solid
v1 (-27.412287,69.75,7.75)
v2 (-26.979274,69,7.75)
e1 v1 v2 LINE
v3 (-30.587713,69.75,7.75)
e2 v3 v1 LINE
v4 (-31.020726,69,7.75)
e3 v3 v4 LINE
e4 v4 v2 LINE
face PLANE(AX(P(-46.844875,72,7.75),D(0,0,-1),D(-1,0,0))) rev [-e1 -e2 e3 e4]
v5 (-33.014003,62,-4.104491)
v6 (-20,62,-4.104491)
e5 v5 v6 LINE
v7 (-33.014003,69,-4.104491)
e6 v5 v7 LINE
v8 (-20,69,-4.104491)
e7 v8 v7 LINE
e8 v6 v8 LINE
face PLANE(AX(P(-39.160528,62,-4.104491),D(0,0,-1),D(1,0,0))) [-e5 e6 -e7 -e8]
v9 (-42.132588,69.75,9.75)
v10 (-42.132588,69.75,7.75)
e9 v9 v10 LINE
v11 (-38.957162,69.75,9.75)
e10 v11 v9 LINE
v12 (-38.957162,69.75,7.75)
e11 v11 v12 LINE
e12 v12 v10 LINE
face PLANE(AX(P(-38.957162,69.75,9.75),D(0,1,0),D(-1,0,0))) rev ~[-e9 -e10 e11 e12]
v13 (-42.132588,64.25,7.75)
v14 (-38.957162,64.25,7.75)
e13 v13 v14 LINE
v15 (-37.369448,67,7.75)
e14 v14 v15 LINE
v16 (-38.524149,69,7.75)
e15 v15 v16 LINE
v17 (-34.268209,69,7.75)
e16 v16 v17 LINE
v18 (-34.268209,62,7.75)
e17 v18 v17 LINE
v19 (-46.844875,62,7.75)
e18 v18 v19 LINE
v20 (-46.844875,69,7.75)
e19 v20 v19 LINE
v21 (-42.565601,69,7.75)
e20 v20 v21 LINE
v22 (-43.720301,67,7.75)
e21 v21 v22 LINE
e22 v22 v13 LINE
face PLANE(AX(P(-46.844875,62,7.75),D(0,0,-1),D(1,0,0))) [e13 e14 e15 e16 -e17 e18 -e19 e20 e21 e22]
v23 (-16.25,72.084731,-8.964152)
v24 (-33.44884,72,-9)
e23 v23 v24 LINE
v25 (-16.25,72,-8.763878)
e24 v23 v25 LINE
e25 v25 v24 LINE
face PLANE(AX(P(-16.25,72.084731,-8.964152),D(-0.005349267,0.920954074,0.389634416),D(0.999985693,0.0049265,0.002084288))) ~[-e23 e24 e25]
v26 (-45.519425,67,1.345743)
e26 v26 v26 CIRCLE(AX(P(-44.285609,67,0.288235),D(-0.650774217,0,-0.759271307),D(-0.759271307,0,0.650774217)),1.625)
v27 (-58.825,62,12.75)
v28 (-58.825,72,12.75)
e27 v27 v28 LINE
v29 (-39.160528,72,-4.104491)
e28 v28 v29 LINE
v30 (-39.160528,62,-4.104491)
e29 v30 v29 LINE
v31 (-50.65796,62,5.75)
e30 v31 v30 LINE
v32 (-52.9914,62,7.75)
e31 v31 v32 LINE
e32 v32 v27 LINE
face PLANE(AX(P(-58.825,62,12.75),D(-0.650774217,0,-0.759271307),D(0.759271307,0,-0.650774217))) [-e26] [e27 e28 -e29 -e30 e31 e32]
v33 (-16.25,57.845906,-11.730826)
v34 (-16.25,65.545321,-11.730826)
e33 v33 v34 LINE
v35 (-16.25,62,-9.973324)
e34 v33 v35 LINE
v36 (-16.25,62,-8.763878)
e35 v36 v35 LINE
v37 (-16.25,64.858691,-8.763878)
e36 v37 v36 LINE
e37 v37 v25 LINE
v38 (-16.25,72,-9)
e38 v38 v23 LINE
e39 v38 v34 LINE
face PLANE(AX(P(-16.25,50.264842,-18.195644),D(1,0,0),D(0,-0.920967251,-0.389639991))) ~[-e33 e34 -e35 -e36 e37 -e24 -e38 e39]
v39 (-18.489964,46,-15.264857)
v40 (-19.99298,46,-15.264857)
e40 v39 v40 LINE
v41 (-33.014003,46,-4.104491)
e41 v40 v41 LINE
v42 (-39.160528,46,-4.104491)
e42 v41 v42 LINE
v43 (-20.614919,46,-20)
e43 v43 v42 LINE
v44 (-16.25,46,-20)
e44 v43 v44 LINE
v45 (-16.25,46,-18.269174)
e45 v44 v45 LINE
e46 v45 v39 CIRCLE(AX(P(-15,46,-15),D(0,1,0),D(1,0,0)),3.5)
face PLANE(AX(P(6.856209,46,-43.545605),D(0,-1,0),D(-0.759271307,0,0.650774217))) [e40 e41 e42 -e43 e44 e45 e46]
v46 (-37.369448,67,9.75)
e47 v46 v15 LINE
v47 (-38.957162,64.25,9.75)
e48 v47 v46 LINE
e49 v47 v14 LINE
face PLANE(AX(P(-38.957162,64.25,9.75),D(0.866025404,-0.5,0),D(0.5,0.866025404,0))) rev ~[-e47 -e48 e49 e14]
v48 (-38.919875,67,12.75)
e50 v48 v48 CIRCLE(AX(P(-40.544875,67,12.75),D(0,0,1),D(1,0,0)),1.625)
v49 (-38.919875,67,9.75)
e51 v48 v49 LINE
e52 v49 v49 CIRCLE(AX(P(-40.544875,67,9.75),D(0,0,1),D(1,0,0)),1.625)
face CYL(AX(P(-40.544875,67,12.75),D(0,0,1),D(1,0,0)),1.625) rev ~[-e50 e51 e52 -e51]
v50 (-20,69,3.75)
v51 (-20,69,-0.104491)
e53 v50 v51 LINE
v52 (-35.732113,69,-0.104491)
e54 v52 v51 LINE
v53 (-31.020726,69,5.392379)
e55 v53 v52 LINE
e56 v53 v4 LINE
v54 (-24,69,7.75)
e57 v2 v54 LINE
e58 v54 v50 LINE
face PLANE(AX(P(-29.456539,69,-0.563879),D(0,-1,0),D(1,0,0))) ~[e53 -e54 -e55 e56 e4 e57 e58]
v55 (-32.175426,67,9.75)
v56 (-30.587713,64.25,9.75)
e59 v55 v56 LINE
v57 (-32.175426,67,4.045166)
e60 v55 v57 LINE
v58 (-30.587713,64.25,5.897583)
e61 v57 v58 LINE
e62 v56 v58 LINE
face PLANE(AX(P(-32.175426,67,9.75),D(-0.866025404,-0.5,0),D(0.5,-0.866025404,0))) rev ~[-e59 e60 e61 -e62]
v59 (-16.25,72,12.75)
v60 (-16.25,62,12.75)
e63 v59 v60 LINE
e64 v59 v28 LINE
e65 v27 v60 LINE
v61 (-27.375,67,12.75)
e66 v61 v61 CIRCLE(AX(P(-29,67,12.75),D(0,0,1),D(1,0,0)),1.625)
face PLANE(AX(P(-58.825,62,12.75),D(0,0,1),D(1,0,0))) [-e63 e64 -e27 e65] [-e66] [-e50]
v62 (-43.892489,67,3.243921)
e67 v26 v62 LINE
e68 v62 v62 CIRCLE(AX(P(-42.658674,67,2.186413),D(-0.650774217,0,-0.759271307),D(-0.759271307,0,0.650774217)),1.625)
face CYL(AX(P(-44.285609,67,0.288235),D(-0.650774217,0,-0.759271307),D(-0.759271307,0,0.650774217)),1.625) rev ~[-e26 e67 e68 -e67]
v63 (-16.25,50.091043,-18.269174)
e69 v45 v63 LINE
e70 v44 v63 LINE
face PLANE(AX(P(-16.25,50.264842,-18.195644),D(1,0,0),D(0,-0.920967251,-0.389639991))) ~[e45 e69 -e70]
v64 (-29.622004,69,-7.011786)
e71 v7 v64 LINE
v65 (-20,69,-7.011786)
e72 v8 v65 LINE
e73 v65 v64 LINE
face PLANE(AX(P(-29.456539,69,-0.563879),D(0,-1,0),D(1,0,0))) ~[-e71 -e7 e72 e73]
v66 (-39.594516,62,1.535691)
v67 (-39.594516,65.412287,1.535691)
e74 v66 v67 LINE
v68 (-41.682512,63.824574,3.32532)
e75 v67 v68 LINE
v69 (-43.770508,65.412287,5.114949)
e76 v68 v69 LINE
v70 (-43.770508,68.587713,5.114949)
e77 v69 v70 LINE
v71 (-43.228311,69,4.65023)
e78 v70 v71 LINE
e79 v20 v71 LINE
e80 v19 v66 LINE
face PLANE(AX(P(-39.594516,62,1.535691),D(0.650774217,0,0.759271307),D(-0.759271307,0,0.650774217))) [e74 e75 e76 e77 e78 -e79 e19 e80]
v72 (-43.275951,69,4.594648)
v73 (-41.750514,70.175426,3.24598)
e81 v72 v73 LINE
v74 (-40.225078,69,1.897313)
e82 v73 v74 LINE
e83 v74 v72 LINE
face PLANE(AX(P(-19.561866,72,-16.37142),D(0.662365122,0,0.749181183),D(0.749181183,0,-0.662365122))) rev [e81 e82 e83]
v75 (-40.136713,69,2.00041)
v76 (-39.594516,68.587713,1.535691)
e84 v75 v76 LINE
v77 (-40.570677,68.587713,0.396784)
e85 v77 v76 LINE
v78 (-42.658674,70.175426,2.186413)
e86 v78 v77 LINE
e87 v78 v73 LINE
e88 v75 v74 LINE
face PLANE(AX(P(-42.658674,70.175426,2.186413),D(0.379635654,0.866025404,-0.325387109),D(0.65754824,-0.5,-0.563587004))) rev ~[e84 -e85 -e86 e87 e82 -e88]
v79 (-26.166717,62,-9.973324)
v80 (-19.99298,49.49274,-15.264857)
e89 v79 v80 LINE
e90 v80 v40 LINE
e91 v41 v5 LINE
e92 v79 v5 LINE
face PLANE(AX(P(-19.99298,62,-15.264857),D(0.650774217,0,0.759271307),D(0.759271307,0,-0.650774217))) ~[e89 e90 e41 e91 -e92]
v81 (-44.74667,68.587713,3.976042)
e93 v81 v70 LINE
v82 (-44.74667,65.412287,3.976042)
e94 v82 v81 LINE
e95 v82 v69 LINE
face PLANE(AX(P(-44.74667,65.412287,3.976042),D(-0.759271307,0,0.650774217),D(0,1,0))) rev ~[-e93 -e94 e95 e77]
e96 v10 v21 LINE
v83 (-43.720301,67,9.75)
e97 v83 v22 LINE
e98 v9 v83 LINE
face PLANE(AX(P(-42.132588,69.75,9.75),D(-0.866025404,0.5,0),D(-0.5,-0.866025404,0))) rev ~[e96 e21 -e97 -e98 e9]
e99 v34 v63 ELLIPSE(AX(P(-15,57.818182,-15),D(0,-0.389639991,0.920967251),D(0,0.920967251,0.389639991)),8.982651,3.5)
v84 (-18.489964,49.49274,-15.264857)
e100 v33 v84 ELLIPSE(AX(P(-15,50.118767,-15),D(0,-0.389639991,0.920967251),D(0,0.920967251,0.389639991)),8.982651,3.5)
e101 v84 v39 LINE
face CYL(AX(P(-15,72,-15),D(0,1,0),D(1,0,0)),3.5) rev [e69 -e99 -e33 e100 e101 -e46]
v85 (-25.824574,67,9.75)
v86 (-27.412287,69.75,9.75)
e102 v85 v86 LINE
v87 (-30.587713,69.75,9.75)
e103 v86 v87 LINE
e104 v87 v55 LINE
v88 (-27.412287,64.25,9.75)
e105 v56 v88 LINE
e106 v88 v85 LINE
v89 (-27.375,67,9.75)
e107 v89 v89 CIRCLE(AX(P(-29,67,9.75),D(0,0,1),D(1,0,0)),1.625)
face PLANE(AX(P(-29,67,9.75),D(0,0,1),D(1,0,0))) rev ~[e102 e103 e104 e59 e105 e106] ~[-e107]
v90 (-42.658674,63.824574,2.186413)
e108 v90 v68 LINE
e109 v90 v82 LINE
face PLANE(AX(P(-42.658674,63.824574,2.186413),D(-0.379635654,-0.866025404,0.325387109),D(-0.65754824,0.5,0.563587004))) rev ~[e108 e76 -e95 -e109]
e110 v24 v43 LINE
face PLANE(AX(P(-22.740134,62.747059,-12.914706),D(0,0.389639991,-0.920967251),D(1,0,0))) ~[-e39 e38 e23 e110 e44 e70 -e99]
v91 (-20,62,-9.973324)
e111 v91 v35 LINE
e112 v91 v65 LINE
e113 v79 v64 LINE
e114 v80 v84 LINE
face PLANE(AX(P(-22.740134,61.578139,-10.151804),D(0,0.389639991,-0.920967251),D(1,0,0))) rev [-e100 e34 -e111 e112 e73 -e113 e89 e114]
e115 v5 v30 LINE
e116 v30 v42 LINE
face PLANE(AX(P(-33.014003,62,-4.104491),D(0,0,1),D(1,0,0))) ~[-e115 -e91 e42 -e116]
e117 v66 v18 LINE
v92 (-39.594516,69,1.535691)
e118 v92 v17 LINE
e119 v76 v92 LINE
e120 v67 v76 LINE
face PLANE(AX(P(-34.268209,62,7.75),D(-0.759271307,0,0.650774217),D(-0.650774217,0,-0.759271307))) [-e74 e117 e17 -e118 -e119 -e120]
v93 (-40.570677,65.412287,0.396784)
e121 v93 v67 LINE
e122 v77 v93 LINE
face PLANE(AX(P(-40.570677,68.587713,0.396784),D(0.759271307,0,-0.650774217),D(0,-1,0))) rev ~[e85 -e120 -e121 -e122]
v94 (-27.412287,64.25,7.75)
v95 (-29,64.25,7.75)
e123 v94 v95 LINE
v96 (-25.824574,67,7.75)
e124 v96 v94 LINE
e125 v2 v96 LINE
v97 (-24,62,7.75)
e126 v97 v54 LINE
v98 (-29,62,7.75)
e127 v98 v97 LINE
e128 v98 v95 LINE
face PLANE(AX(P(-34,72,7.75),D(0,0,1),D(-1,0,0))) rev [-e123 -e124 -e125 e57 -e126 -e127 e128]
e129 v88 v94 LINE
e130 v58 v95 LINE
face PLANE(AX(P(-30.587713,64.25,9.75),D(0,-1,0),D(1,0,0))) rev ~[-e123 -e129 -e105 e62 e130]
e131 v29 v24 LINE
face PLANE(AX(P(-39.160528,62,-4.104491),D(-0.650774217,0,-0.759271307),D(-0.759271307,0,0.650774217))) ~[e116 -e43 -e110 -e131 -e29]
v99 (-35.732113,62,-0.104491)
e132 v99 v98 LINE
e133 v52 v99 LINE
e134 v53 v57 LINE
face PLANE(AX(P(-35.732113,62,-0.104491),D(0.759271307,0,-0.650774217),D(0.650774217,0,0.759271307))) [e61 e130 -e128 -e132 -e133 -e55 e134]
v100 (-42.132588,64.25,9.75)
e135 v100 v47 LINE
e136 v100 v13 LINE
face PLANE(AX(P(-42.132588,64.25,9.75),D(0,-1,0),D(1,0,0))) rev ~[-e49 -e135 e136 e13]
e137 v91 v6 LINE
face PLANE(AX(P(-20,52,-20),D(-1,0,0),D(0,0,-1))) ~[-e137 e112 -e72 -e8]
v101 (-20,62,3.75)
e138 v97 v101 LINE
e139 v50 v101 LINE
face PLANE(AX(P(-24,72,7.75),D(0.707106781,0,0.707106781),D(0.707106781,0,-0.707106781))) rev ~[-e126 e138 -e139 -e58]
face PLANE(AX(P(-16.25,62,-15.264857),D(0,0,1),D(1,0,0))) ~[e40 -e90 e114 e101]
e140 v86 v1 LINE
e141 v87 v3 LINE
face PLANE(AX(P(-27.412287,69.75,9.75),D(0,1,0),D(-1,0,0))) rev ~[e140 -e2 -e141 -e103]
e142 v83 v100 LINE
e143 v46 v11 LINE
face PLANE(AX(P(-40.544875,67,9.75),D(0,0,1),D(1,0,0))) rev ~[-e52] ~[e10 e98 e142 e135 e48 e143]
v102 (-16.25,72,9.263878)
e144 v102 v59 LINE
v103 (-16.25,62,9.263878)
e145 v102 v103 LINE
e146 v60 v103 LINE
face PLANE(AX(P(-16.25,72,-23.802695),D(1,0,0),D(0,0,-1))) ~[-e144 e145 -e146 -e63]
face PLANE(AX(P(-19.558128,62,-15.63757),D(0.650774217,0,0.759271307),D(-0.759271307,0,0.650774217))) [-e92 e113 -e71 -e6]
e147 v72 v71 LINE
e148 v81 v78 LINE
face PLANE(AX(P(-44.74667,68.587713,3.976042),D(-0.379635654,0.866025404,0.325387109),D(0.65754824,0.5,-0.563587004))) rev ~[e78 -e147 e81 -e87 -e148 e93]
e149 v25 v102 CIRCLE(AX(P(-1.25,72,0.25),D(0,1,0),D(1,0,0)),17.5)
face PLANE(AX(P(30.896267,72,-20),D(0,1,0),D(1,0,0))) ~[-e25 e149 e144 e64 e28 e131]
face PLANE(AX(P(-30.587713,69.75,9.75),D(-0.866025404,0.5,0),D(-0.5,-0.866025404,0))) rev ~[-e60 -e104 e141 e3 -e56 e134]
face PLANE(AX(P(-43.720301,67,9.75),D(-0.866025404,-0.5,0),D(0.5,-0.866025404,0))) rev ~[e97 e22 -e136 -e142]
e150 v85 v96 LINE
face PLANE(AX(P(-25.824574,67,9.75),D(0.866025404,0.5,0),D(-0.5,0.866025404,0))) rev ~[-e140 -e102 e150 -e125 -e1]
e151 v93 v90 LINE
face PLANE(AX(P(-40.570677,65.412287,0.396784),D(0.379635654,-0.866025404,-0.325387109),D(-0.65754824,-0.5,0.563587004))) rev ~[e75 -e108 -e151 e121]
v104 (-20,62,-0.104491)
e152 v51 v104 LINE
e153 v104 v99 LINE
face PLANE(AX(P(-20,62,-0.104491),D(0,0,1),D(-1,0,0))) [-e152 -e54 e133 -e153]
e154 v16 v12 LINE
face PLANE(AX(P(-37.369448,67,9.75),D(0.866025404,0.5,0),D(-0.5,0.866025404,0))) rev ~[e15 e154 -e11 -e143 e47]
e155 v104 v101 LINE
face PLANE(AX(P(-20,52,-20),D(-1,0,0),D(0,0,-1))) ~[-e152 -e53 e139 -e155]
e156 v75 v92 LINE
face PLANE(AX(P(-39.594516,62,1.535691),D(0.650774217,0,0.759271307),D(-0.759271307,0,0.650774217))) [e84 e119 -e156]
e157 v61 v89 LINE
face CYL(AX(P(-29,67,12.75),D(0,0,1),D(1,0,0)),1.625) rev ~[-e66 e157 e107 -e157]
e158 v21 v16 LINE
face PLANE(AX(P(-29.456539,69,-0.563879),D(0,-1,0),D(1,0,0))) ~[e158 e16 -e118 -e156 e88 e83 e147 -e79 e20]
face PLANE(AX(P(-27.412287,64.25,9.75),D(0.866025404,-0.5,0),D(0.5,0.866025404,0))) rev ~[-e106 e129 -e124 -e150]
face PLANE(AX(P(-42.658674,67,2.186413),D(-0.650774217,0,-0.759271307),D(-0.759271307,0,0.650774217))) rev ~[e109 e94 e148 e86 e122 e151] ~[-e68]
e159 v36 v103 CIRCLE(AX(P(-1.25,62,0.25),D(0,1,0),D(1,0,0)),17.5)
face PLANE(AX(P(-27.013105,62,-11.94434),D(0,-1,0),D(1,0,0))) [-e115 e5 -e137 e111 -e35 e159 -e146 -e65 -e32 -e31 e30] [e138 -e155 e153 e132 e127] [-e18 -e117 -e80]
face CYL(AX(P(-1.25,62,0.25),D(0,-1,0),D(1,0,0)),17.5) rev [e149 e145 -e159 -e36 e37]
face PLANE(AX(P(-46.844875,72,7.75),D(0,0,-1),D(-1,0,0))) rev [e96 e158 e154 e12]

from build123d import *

# Parameters (mm, degrees)
CROQUIS1_R                              = 15.25
CROQUIS1_R_2                            = 2.125
SOPORTE_CAJA_REDUCTORA_DEPTH            = 20
CROQUIS3_R                              = 2.125
CORTAR_EXTRUIR1_DEPTH                   = 51.423828692
REDONDEO1_R                             = 5
BOSS_EXTRUDE1_DEPTH                     = 20
CUT_EXTRUDE1_REACH                      = 55.852
SKETCH2_R                               = 1.625
CUT_EXTRUDE2_DEPTH                      = 2
SKETCH4_R                               = 1.625
CUT_EXTRUDE3_DEPTH                      = 63.291652731
CUT_EXTRUDE4_START                      = -4.5
CUT_EXTRUDE4_DEPTH                      = 2
CROQUIS6_W                              = 4.75
CROQUIS6_H                              = 4.75
CORTAR_EXTRUIR17_DEPTH                  = 42.231056256
CROQUIS7_W                              = 60
CROQUIS7_H                              = 20
CORTAR_EXTRUIR18_DEPTH                  = 51.423828692
SALIENTE_EXTRUIR2_DEPTH                 = 49
SOPORTE_START                           = -15
SOPORTE_MOTOR_DEPTH                     = 15
CROQUIS12_R                             = 2.125
AGUJEROS_DE_SUJECION_A_BASE_DEPTH       = 84.087679592
TUERCA_START                            = -4
TUERCA_AGUJERO_DE_SUJECION_A_BASE_DEPTH = 10
SALIENTE_EXTRUIR4_DEPTH                 = 15
CORTAR_EXTRUIR19_DEPTH                  = 25
CROQUIS14_W                             = 50
CROQUIS14_H                             = 118
CORTAR_EXTRUIR22_DEPTH                  = 146.556045907
CROQUIS15_W                             = 10
CROQUIS15_H                             = 7
CORTAR_EXTRUIR23_DEPTH                  = 42.231056256
CORTAR_EXTRUIR24_DEPTH                  = 42.231056256
CROQUIS18_W                             = 40
CROQUIS18_H                             = 10
CORTAR_EXTRUIR25_DEPTH                  = 44.27311521
SALIENTE_EXTRUIR5_DEPTH                 = 10
CROQUIS20_R                             = 1
CORTAR_EXTRUIR26_DEPTH                  = 49.229270158
CORTAR_EXTRUIR27_REACH                  = 62.959
CORTAR_EXTRUIR27_END_RADIUS             = 15.25
CROQUIS21_R                             = 1.625
CROQUIS22_R                             = 2.125
CROQUIS22_R_2                           = 1
SALIENTE_EXTRUIR6_DEPTH                 = 10
CROQUIS23_R                             = 1.625
CORTAR_EXTRUIR28_DEPTH                  = 52.269508521
CORTAR_EXTRUIR29_START                  = -3
CORTAR_EXTRUIR29_DEPTH                  = 10
SALIENTE_EXTRUIR7_DEPTH                 = 10
CORTAR_EXTRUIR30_REACH                  = 72.235
CROQUIS27_R                             = 1.625
CORTAR_EXTRUIR31_REACH                  = 75.235
CORTAR_EXTRUIR31_START                  = -3
CORTAR_EXTRUIR32_REACH                  = 58.612
CROQUIS29_R                             = 1.625
CORTAR_EXTRUIR33_REACH                  = 61.112
CORTAR_EXTRUIR33_START                  = -2.5
CROQUIS35_W                             = 13.305418987
CROQUIS35_H                             = 6.826864192
CORTAR_EXTRUIR34_DEPTH                  = 63.931555098
CORTAR_EXTRUIR34_DEPTH_BACK             = 63.931555098
CORTAR_EXTRUIR35_START                  = -3
CORTAR_EXTRUIR35_DEPTH                  = 10
SALIENTE_EXTRUIR8_DEPTH                 = 10
SALIENTE_EXTRUIR9_DEPTH                 = 13
SALIENTE_EXTRUIR10_DEPTH                = 3
CROQUIS40_W                             = 106.583537839
CROQUIS40_H                             = 47.391515964
CORTAR_EXTRUIR36_DEPTH                  = 80.887064817
CORTAR_EXTRUIR36_DEPTH_BACK             = 80.887064817
CROQUIS41_W                             = 24.558856908
CROQUIS41_H                             = 18.206234432
CORTAR_EXTRUIR37_DEPTH                  = 80.887064817
CORTAR_EXTRUIR37_DEPTH_BACK             = 80.887064817
CROQUIS42_W                             = 39.793611955
CROQUIS42_H                             = 36.552695193
CORTAR_EXTRUIR38_DEPTH                  = 63.931555082
CORTAR_EXTRUIR38_DEPTH_BACK             = 63.931555082
SALIENTE_EXTRUIR11_DEPTH                = 3
CROQUIS44_R                             = 17.5
CORTAR_EXTRUIR39_DEPTH                  = 63.931555082
CORTAR_EXTRUIR39_DEPTH_BACK             = 63.931555082
SALIENTE_EXTRUIR12_DEPTH                = 16
CORTAR_EXTRUIR40_DEPTH                  = 66.79232953
SALIENTE_EXTRUIR14_DEPTH                = 3
CROQUIS48_R                             = 17.5
CORTAR_EXTRUIR41_DEPTH                  = 68.352658633
CORTAR_EXTRUIR41_DEPTH_BACK             = 68.352658633
CROQUIS49_R                             = 3.5
CORTAR_EXTRUIR42_DEPTH                  = 68.352658633
CROQUIS50_W                             = 95.776732481
CROQUIS50_H                             = 51.661294246
CORTAR_EXTRUIR43_DEPTH                  = 90.449033504
CORTAR_EXTRUIR43_DEPTH_BACK             = 90.449033504


with BuildPart() as part:
    # Croquis1 → Soporte caja reductora (new body)
    with BuildSketch(Plane(origin=(0, 0, 0), x_dir=(1, 0, 0), z_dir=(0, 1, 0))):
        Polygon((-30, -15.25), (-20, -15.25), (-20, -20), (20, -20), (20, -15.25), (30, -15.25), (30, -7.25), (20, -4.25), (20, 20), (-20, 20), (-20, -4.25), (-30, -7.25), align=None)
        with Locations(Location((0, 0, 0), (0, 0, 270))):
            Circle(CROQUIS1_R, mode=Mode.SUBTRACT)
        with Locations(Location((-15, 15, 0), (0, 0, 270))):
            Circle(CROQUIS1_R_2, mode=Mode.SUBTRACT)
        with Locations(Location((15, 15, 0), (0, 0, 270))):
            Circle(CROQUIS1_R_2, mode=Mode.SUBTRACT)
    extrude(amount=-SOPORTE_CAJA_REDUCTORA_DEPTH)

    # Croquis3 → Cortar-Extruir1 (cut, through all)
    with BuildSketch(Plane.XY.offset(15.25)):
        with Locations((-23.5, -10)):
            Circle(CROQUIS3_R)
        with Locations((23.5, -10)):
            Circle(CROQUIS3_R)
    extrude(amount=-CORTAR_EXTRUIR1_DEPTH, mode=Mode.SUBTRACT)

    # Redondeo1
    redondeo1_edges = [part.edges().sort_by_distance(p)[0] for p in [
        (-20, -10, -20),
        (20, -10, -20),
    ]]
    fillet(redondeo1_edges, radius=REDONDEO1_R)

    # Sketch1 → Boss-Extrude1 (add)
    with BuildSketch(Plane(origin=(0, 0, 0), x_dir=(1, 0, 0), z_dir=(0, 1, 0))):
        with BuildLine():
            Line((25.5, 15), (20, 15))
            ThreePointArc((20, 15), (18.535533906, 18.535533906), (15, 20))
            Line((15, 20), (30, 20))
            Line((30, 20), (30, 8))
            Line((30, 8), (25.5, 8))
            Line((25.5, 8), (25.5, 15))
        make_face()
    extrude(amount=-BOSS_EXTRUDE1_DEPTH)

    # Sketch2 → Cut-Extrude1 (cut, up to next)
    with BuildSketch(Plane(origin=(0, 0, -20), x_dir=(-1, 0, 0), z_dir=(0, 0, -1)), mode=Mode.PRIVATE) as cut_extrude1_sk1:
        with Locations((-22.75, -10)):
            Circle(SKETCH2_R)
    cut_extrude1_tool1 = extrude(cut_extrude1_sk1.sketch, amount=-CUT_EXTRUDE1_REACH, mode=Mode.PRIVATE) & part.part
    add(cut_extrude1_tool1.solids().sort_by_distance((22.75, -10, -20))[0], mode=Mode.SUBTRACT)

    # Sketch3 → Cut-Extrude2 (cut)
    with BuildSketch(Plane.XY.offset(-15)):
        Polygon((20, -11.58771324), (22.75, -13.175426481), (25.5, -11.58771324), (25.5, -8.41228676), (22.75, -6.824573519), (20, -8.41228676), align=None)
    extrude(amount=-CUT_EXTRUDE2_DEPTH, mode=Mode.SUBTRACT)

    # Sketch4 → Cut-Extrude3 (cut, through all)
    with BuildSketch(Plane.ZY.offset(-25.5)):
        with Locations((-12.25, -10)):
            Circle(SKETCH4_R)
    extrude(amount=-CUT_EXTRUDE3_DEPTH, mode=Mode.SUBTRACT)

    # Sketch5 → Cut-Extrude4 (cut)
    with BuildSketch(Plane(origin=(30, 0, 0), x_dir=(0, 0, -1), z_dir=(1, 0, 0)).offset(CUT_EXTRUDE4_START)):
        Polygon((15, -11.58771324), (15, -8.41228676), (12.25, -6.824573519), (9.5, -8.41228676), (9.5, -11.58771324), (12.25, -13.175426481), align=None)
    extrude(amount=CUT_EXTRUDE4_DEPTH, mode=Mode.SUBTRACT)

    # Croquis6 → Cortar-Extruir17 (cut, through all)
    with BuildSketch(Plane(origin=(0, 0, 0), x_dir=(1, 0, 0), z_dir=(0, 1, 0))):
        Polygon((0, -15.25), (-15.25, -15.25), (-15.25, -20), (15.25, -20), (15.25, -15.25), align=None)
        with Locations((-17.625, -17.625)):
            Rectangle(CROQUIS6_W, CROQUIS6_H)
        with BuildLine():
            ThreePointArc((0, -15.25), (-10.783378413, -10.783378413), (-15.25, 0))
            Line((-15.25, 0), (-15.25, -15.25))
            Line((-15.25, -15.25), (0, -15.25))
        make_face()
        with BuildLine():
            Line((15.25, -15.25), (15.25, 0))
            ThreePointArc((15.25, 0), (10.783378413, -10.783378413), (0, -15.25))
            Line((0, -15.25), (15.25, -15.25))
        make_face()
        with Locations((17.625, -17.625)):
            Rectangle(CROQUIS6_W, CROQUIS6_H)
    extrude(amount=-CORTAR_EXTRUIR17_DEPTH, mode=Mode.SUBTRACT)


with BuildPart() as body_2:
    # Simetría1: mirrored copy
    add(part.part.mirror(Plane.ZX))

    # Croquis8 → Saliente-Extruir2 (add)
    with BuildSketch(Plane(origin=(0, 20, 0), x_dir=(1, 0, 0), z_dir=(0, 1, 0))):
        with BuildLine():
            Line((-12.664515522, 20), (-11.040489496, 13.939052358))
            Line((-11.040489496, 13.939052358), (-10.315162126, 11.232093763))
            ThreePointArc((-10.315162126, 11.232093763), (0, 15.25), (10.315162126, 11.232093763))
            Line((10.315162126, 11.232093763), (10.817418481, 13.87928066))
            Line((10.817418481, 13.87928066), (11.978715476, 20))
            Line((11.978715476, 20), (-12.664515522, 20))
        make_face()
    extrude(amount=SALIENTE_EXTRUIR2_DEPTH)

    # Croquis9 → Soporte motor (add)
    with BuildSketch(Plane(origin=(0, 69, 0), x_dir=(1, 0, 0), z_dir=(0, 1, 0)).offset(SOPORTE_START)):
        with BuildLine():
            Line((-20, 15), (-20, -4.25))
            Line((-20, -4.25), (-30, -7.25))
            Line((-30, -7.25), (-30, -15.25))
            Line((-30, -15.25), (0, -15.25))
            Line((0, -15.25), (0, -14.75))
            ThreePointArc((0, -14.75), (-10.429825023, 10.429825023), (14.75, 0))
            Line((14.75, 0), (20, 0))
            Line((20, 0), (20, 13.936837101))
            Line((20, 13.936837101), (12.664515522, 20))
            Line((12.664515522, 20), (-15, 20))
            ThreePointArc((-15, 20), (-18.535533906, 18.535533906), (-20, 15))
        make_face()
    extrude(amount=-SOPORTE_MOTOR_DEPTH)

    # Croquis12 → Agujeros de sujecion a base (cut, through all)
    with BuildSketch(Plane.XY.offset(15.25)):
        with Locations((-23.5, 46.5)):
            Circle(CROQUIS12_R)
    extrude(amount=-AGUJEROS_DE_SUJECION_A_BASE_DEPTH, mode=Mode.SUBTRACT)

    # Croquis13 → Tuerca Agujero de sujecion a base (cut)
    with BuildSketch(Plane.XY.offset(15.25).offset(TUERCA_START)):
        Polygon((-20, 44.479274058), (-20, 48.520725942), (-23.5, 50.541451884), (-27, 48.520725942), (-27, 44.479274058), (-23.5, 42.458548116), align=None)
    extrude(amount=-TUERCA_AGUJERO_DE_SUJECION_A_BASE_DEPTH, mode=Mode.SUBTRACT)

    # Croquis10 → Saliente-Extruir4 (add)
    with BuildSketch(Plane(origin=(0, 69, 0), x_dir=(1, 0, 0), z_dir=(0, 1, 0))):
        with BuildLine():
            ThreePointArc((10.315162126, 11.232093763), (0, 15.25), (-10.315162126, 11.232093763))
            Line((-10.315162126, 11.232093763), (-10.16850369, 10.684757026))
            ThreePointArc((-10.16850369, 10.684757026), (0, 14.75), (10.16850369, 10.684757026))
            Line((10.16850369, 10.684757026), (10.315162126, 11.232093763))
        make_face()
    extrude(amount=-SALIENTE_EXTRUIR4_DEPTH)

    # Croquis11 → Cortar-Extruir19 (cut)
    with BuildSketch(Plane.XZ):
        with BuildLine():
            Line((15.25, 4.25), (20, 4.25))
            Line((20, 4.25), (21.972856468, 4.84185694))
            ThreePointArc((21.972856468, 4.84185694), (19.948931102, 10.40625523), (16.543503257, 15.25))
            Line((16.543503257, 15.25), (15.25, 15.25))
            Line((15.25, 15.25), (15.25, 4.25))
        make_face()
        with BuildLine():
            Line((21.972856468, 4.84185694), (30, 7.25))
            Line((30, 7.25), (30, 15.25))
            Line((30, 15.25), (16.543503257, 15.25))
            ThreePointArc((16.543503257, 15.25), (19.948931102, 10.40625523), (21.972856468, 4.84185694))
        make_face()
        with BuildLine():
            ThreePointArc((20, -15), (18.535533906, -18.535533906), (15, -20))
            Line((15, -20), (30, -20))
            Line((30, -20), (30, -8))
            Line((30, -8), (25.5, -8))
            Line((25.5, -8), (25.5, -15))
            Line((25.5, -15), (20, -15))
        make_face()
    extrude(amount=-CORTAR_EXTRUIR19_DEPTH, mode=Mode.SUBTRACT)

    # Simetría2: body 2 across face


with BuildPart() as part_1:
    add(part.part)

    # Croquis7 → Cortar-Extruir18 (cut, through all)
    with BuildSketch(Plane(origin=(0, 0, -20), x_dir=(-1, 0, 0), z_dir=(0, 0, -1))):
        with Locations((0, -10)):
            Rectangle(CROQUIS7_W, CROQUIS7_H)
    extrude(amount=-CORTAR_EXTRUIR18_DEPTH, mode=Mode.SUBTRACT)


with BuildPart() as body_2_1:
    add(body_2.part)
    add(body_2.part.mirror(Plane(origin=(-0.229209569, 69, -16.663998028), x_dir=(0, 0, 1), z_dir=(0, 1, 0))))

    # Croquis14 → Cortar-Extruir22 (cut, through all)
    with BuildSketch(Plane.XY.offset(15.25)):
        with Locations((-5, 79)):
            Rectangle(CROQUIS14_W, CROQUIS14_H)
    extrude(amount=-CORTAR_EXTRUIR22_DEPTH, mode=Mode.SUBTRACT)

    # Croquis15 → Cortar-Extruir23 (cut, through all)
    with BuildSketch(Plane.XZ):
        with Locations((-25, 7.75)):
            Rectangle(CROQUIS15_W, CROQUIS15_H)
    extrude(amount=-CORTAR_EXTRUIR23_DEPTH, mode=Mode.SUBTRACT)

    # Croquis16 → Cortar-Extruir24 (cut, through all)
    with BuildSketch(Plane.XZ):
        Polygon((-30, 15.25), (-15.25, 15.25), (-15.25, 12.75), (-20, 12.75), (-20, 11.25), (-30, 11.25), (-30, 12.75), align=None)
    extrude(amount=-CORTAR_EXTRUIR24_DEPTH, mode=Mode.SUBTRACT)

    # Croquis18 → Cortar-Extruir25 (cut, through all)
    with BuildSketch(Plane(origin=(0, 0, -20), x_dir=(-1, 0, 0), z_dir=(0, 0, -1))):
        with Locations((0, 5)):
            Rectangle(CROQUIS18_W, CROQUIS18_H)
    extrude(amount=-CORTAR_EXTRUIR25_DEPTH, mode=Mode.SUBTRACT)

    # Croquis19 → Saliente-Extruir5 (add)
    with BuildSketch(Plane(origin=(0, 20, 0), x_dir=(1, 0, 0), z_dir=(0, 1, 0))):
        Polygon((-20, -12.75), (-34, -12.75), (-34, -7.75), (-24, -7.75), (-20, -3.75), align=None)
    extrude(amount=-SALIENTE_EXTRUIR5_DEPTH)

    # Croquis20 → Cortar-Extruir26 (cut, through all)
    with BuildSketch(Plane(origin=(0, 0, 7.75), x_dir=(-1, 0, 0), z_dir=(0, 0, -1))):
        with Locations((29, 15)):
            Circle(CROQUIS20_R)
    extrude(amount=-CORTAR_EXTRUIR26_DEPTH, mode=Mode.SUBTRACT)

    # Cortar-Extruir27: up to this cylinder (the profile starts outside it)
    cortar_extruir27_end = Plane(origin=(0, 15, 0), z_dir=(0, -1, 0)) * Cylinder(CORTAR_EXTRUIR27_END_RADIUS, 157.418, mode=Mode.PRIVATE)
    # Croquis21 → Cortar-Extruir27 (cut, up to the surface)
    with BuildSketch(Plane(origin=(20, 0, 0), x_dir=(0, 0, -1), z_dir=(1, 0, 0)), mode=Mode.PRIVATE) as cortar_extruir27_sk1:
        with Locations((4.75, 15)):
            Circle(CROQUIS21_R)
    cortar_extruir27_tool1 = extrude(cortar_extruir27_sk1.sketch, amount=-CORTAR_EXTRUIR27_REACH, mode=Mode.PRIVATE) - cortar_extruir27_end
    add(cortar_extruir27_tool1.solids().sort_by_distance((20, 15, -4.75))[0], mode=Mode.SUBTRACT)

    # Croquis22 → Saliente-Extruir6 (add)
    with BuildSketch(Plane.XZ.offset(-10)):
        with Locations((-15, -15)):
            Circle(CROQUIS22_R)
        with Locations(Location((-15, -15, 0), (0, 0, 270))):
            Circle(CROQUIS22_R_2, mode=Mode.SUBTRACT)
        with Locations((15, -15)):
            Circle(CROQUIS22_R)
        with Locations(Location((15, -15, 0), (0, 0, 270))):
            Circle(CROQUIS22_R_2, mode=Mode.SUBTRACT)
    extrude(amount=-SALIENTE_EXTRUIR6_DEPTH)

    # Croquis23 → Cortar-Extruir28 (cut, through all)
    with BuildSketch(Plane(origin=(0, 0, -20), x_dir=(-1, 0, 0), z_dir=(0, 0, -1))):
        with Locations((0, 15)):
            Circle(CROQUIS23_R)
    extrude(amount=-CORTAR_EXTRUIR28_DEPTH, mode=Mode.SUBTRACT)

    # Croquis24 → Cortar-Extruir29 (cut)
    with BuildSketch(Plane(origin=(0, 0, -20), x_dir=(-1, 0, 0), z_dir=(0, 0, -1)).offset(CORTAR_EXTRUIR29_START)):
        Polygon((1.58771324, 12.25), (3.175426481, 15), (1.58771324, 17.75), (-1.58771324, 17.75), (-3.175426481, 15), (-1.58771324, 12.25), align=None)
    extrude(amount=-CORTAR_EXTRUIR29_DEPTH, mode=Mode.SUBTRACT)

    # Croquis26 → Saliente-Extruir7 (add)
    with BuildSketch(Plane.XZ.offset(-10)):
        Polygon((-34, 7.75), (-34, 12.75), (-58.825, 12.75), (-39.160527763, -4.104491148), (-20, -4.104491148), (-20, -0.104491148), (-35.732113118, -0.104491148), (-29, 7.75), align=None)
        Polygon((-34.268209086, 7.75), (-39.594516123, 1.535690951), (-46.844874897, 7.75), align=None, mode=Mode.SUBTRACT)
    extrude(amount=-SALIENTE_EXTRUIR7_DEPTH)

    # Croquis27 → Cortar-Extruir30 (cut, up to next)
    with BuildSketch(Plane.XY.offset(12.75), mode=Mode.PRIVATE) as cortar_extruir30_sk1:
        with Locations((-40.544874897, 15)):
            Circle(CROQUIS27_R)
    cortar_extruir30_tool1 = extrude(cortar_extruir30_sk1.sketch, amount=-CORTAR_EXTRUIR30_REACH, mode=Mode.PRIVATE) & body_2_1.part
    # Croquis27 → Cortar-Extruir30 (cut, up to next)
    with BuildSketch(Plane.XY.offset(12.75), mode=Mode.PRIVATE) as cortar_extruir30_sk2:
        with Locations((-29, 15)):
            Circle(CROQUIS27_R)
    cortar_extruir30_tool2 = extrude(cortar_extruir30_sk2.sketch, amount=-CORTAR_EXTRUIR30_REACH, mode=Mode.PRIVATE) & body_2_1.part
    add(cortar_extruir30_tool1.solids().sort_by_distance((-40.544875, 15, 12.75))[0], mode=Mode.SUBTRACT)
    add(cortar_extruir30_tool2.solids().sort_by_distance((-29, 15, 12.75))[0], mode=Mode.SUBTRACT)

    # Croquis28 → Cortar-Extruir31 (cut, up to next)
    with BuildSketch(Plane.XY.offset(12.75).offset(CORTAR_EXTRUIR31_START), mode=Mode.PRIVATE) as cortar_extruir31_sk1:
        Polygon((-38.957161657, 12.25), (-37.369448416, 15), (-38.957161657, 17.75), (-42.132588137, 17.75), (-43.720301378, 15), (-42.132588137, 12.25), align=None)
    cortar_extruir31_tool1 = extrude(cortar_extruir31_sk1.sketch, amount=-CORTAR_EXTRUIR31_REACH, mode=Mode.PRIVATE) & body_2_1.part
    # Croquis28 → Cortar-Extruir31 (cut, up to next)
    with BuildSketch(Plane.XY.offset(12.75).offset(CORTAR_EXTRUIR31_START), mode=Mode.PRIVATE) as cortar_extruir31_sk2:
        Polygon((-27.41228676, 12.25), (-25.824573519, 15), (-27.41228676, 17.75), (-30.58771324, 17.75), (-32.175426481, 15), (-30.58771324, 12.25), align=None)
    cortar_extruir31_tool2 = extrude(cortar_extruir31_sk2.sketch, amount=-CORTAR_EXTRUIR31_REACH, mode=Mode.PRIVATE) & body_2_1.part
    add(cortar_extruir31_tool1.solids().sort_by_distance((-40.544875, 15, 9.75))[0], mode=Mode.SUBTRACT)
    add(cortar_extruir31_tool2.solids().sort_by_distance((-29, 15, 9.75))[0], mode=Mode.SUBTRACT)

    # Croquis29 → Cortar-Extruir32 (cut, up to next)
    with BuildSketch(Plane(origin=(-18.612848159, 0, -21.715982563), x_dir=(-0.7592713073348843, 0, 0.6507742172658468), z_dir=(-0.6507742172658468, 0, -0.7592713073348843)), mode=Mode.PRIVATE) as cortar_extruir32_sk1:
        with Locations((33.812368097, 15)):
            Circle(CROQUIS29_R)
    cortar_extruir32_tool1 = extrude(cortar_extruir32_sk1.sketch, amount=-CORTAR_EXTRUIR32_REACH, mode=Mode.PRIVATE) & body_2_1.part
    add(cortar_extruir32_tool1.solids().sort_by_distance((-44.285609, 15, 0.288235))[0], mode=Mode.SUBTRACT)

    # Croquis31 → Cortar-Extruir33 (cut, up to next)
    with BuildSketch(Plane(origin=(-18.612848159, 0, -21.715982563), x_dir=(-0.7592713073348843, 0, 0.6507742172658468), z_dir=(-0.6507742172658468, 0, -0.7592713073348843)).offset(CORTAR_EXTRUIR33_START), mode=Mode.PRIVATE) as cortar_extruir33_sk1:
        Polygon((36.562368097, 16.58771324), (33.812368097, 18.175426481), (31.062368097, 16.58771324), (31.062368097, 13.41228676), (33.812368097, 11.824573519), (36.562368097, 13.41228676), align=None)
    cortar_extruir33_tool1 = extrude(cortar_extruir33_sk1.sketch, amount=-CORTAR_EXTRUIR33_REACH, mode=Mode.PRIVATE) & body_2_1.part
    add(cortar_extruir33_tool1.solids().sort_by_distance((-42.658674, 15, 2.186413))[0], mode=Mode.SUBTRACT)

    # Croquis35 → Cortar-Extruir34 (cut, two sides)
    with BuildSketch(Plane(origin=(0, 20, 0), x_dir=(1, 0, 0), z_dir=(0, 1, 0))) as cortar_extruir34_sk:
        with Locations((17.04227466, -3.413432096)):
            Rectangle(CROQUIS35_W, CROQUIS35_H)
    extrude(amount=CORTAR_EXTRUIR34_DEPTH, mode=Mode.SUBTRACT)
    extrude(cortar_extruir34_sk.sketch, amount=-CORTAR_EXTRUIR34_DEPTH_BACK, mode=Mode.SUBTRACT)

    # Croquis36 → Cortar-Extruir35 (cut)
    with BuildSketch(Plane(origin=(20, 0, 0), x_dir=(0, 0, -1), z_dir=(1, 0, 0)).offset(CORTAR_EXTRUIR35_START)):
        Polygon((7.5, 16.58771324), (4.75, 18.175426481), (2, 16.58771324), (2, 13.41228676), (4.75, 11.824573519), (7.5, 13.41228676), align=None)
    extrude(amount=-CORTAR_EXTRUIR35_DEPTH, mode=Mode.SUBTRACT)

    # Croquis37 → Saliente-Extruir8 (add)
    with BuildSketch(Plane.XZ.offset(-10)):
        Polygon((-39.160527763, -4.104491148), (-20.614919368, -20), (-15, -20), (-19.558128305, -15.637570403), (-33.014002756, -4.104491148), align=None)
    extrude(amount=-SALIENTE_EXTRUIR8_DEPTH)

    # Croquis38 → Saliente-Extruir9 (add)
    with BuildSketch(Plane.XZ.offset(-10)):
        Polygon((-58.825, 12.75), (-38.825, 12.75), (-38.825, 9.75), (-55.324839942, 9.75), align=None)
    extrude(amount=SALIENTE_EXTRUIR9_DEPTH)

    # Croquis39 → Saliente-Extruir10 (add)
    with BuildSketch(Plane.XZ.offset(-10)):
        Polygon((-38.825, 9.75), (-38.825, 7.75), (-38.825, 5.75), (-50.657959865, 5.75), (-52.991399903, 7.75), (-55.324839942, 9.75), align=None)
    extrude(amount=SALIENTE_EXTRUIR10_DEPTH)

    # Simetría3: body 2 across face


with BuildPart() as body_2_2:
    add(body_2_1.part)
    add(body_2_1.part.mirror(Plane(origin=(-18.003999227, 20, -4.220503046), x_dir=(0, 0, 1), z_dir=(0, 1, 0))))

    # Croquis40 → Cortar-Extruir36 (cut, two sides)
    with BuildSketch(Plane(origin=(0, 0, -20), x_dir=(-1, 0, 0), z_dir=(0, 0, -1))) as cortar_extruir36_sk:
        with Locations((22.395502026, -3.695757982)):
            Rectangle(CROQUIS40_W, CROQUIS40_H)
    extrude(amount=CORTAR_EXTRUIR36_DEPTH, mode=Mode.SUBTRACT)
    extrude(cortar_extruir36_sk.sketch, amount=-CORTAR_EXTRUIR36_DEPTH_BACK, mode=Mode.SUBTRACT)

    # Croquis41 → Cortar-Extruir37 (cut, two sides)
    with BuildSketch(Plane(origin=(0, 0, -20), x_dir=(-1, 0, 0), z_dir=(0, 0, -1))) as cortar_extruir37_sk:
        with Locations((51.104428454, 39.103117216)):
            Rectangle(CROQUIS41_W, CROQUIS41_H)
    extrude(amount=CORTAR_EXTRUIR37_DEPTH, mode=Mode.SUBTRACT)
    extrude(cortar_extruir37_sk.sketch, amount=-CORTAR_EXTRUIR37_DEPTH_BACK, mode=Mode.SUBTRACT)

    # Croquis42 → Cortar-Extruir38 (cut, two sides)
    with BuildSketch(Plane.XZ.offset(-20)) as cortar_extruir38_sk:
        with Locations((3.646805978, -5.526347597)):
            Rectangle(CROQUIS42_W, CROQUIS42_H)
    extrude(amount=CORTAR_EXTRUIR38_DEPTH, mode=Mode.SUBTRACT)
    extrude(cortar_extruir38_sk.sketch, amount=-CORTAR_EXTRUIR38_DEPTH_BACK, mode=Mode.SUBTRACT)

    # Croquis43 → Saliente-Extruir11 (add)
    with BuildSketch(Plane.XZ.offset(-20)):
        Polygon((-46.844874897, 7.75), (-19.56186566, 7.75), (-19.56186566, -16.371419699), align=None)
    extrude(amount=-SALIENTE_EXTRUIR11_DEPTH)

    # Croquis44 → Cortar-Extruir39 (cut, two sides)
    with BuildSketch(Plane(origin=(0, 30, 0), x_dir=(1, 0, 0), z_dir=(0, 1, 0))) as cortar_extruir39_sk:
        with Locations((-1.25, -0.25)):
            Circle(CROQUIS44_R)
    extrude(amount=CORTAR_EXTRUIR39_DEPTH, mode=Mode.SUBTRACT)
    extrude(cortar_extruir39_sk.sketch, amount=-CORTAR_EXTRUIR39_DEPTH_BACK, mode=Mode.SUBTRACT)

    # Croquis45 → Saliente-Extruir12 (add)
    with BuildSketch(Plane(origin=(0, 30, 0), x_dir=(1, 0, 0), z_dir=(0, 1, 0))):
        Polygon((-33.014002756, 4.104491148), (-39.160527763, 4.104491148), (-20.614919368, 20), (-16.25, 20), (-16.25, 15.264857309), (-19.992980133, 15.264857309), align=None)
    extrude(amount=SALIENTE_EXTRUIR12_DEPTH)

    # Croquis46 → Cortar-Extruir40 (cut, through all)
    with BuildSketch(Plane(origin=(-16.25, 0, 0), x_dir=(0, 0, -1), z_dir=(1, 0, 0))):
        Polygon((9, 20), (20, 46), (20, 20), align=None)
    extrude(amount=-CORTAR_EXTRUIR40_DEPTH, mode=Mode.SUBTRACT)

    # Croquis47 → Saliente-Extruir14 (add)
    with BuildSketch(Plane(origin=(0, -0.193224592, -0.456712673), x_dir=(-1, 0, 0), z_dir=(0, -0.38963999083669787, -0.9209672510685588))):
        Polygon((16.25, 21.834102438), (33.44883958, 21.926104939), (22.720097697, 45.526464663), (16.25, 45.526464663), align=None)
    extrude(amount=-SALIENTE_EXTRUIR14_DEPTH)

    # Croquis48 → Cortar-Extruir41 (cut, two sides)
    with BuildSketch(Plane.XZ.offset(-20)) as cortar_extruir41_sk:
        with Locations((-1.25, 0.25)):
            Circle(CROQUIS48_R)
    extrude(amount=CORTAR_EXTRUIR41_DEPTH, mode=Mode.SUBTRACT)
    extrude(cortar_extruir41_sk.sketch, amount=-CORTAR_EXTRUIR41_DEPTH_BACK, mode=Mode.SUBTRACT)

    # Croquis49 → Cortar-Extruir42 (cut, through all)
    with BuildSketch(Plane.XZ.offset(-20)):
        with Locations((-15, -15)):
            Circle(CROQUIS49_R)
    extrude(amount=-CORTAR_EXTRUIR42_DEPTH, mode=Mode.SUBTRACT)

    # Simetría4: body 2 across plane


with BuildPart() as body_2_3:
    add(body_2_2.part)
    add(body_2_2.part.mirror(Plane(origin=(0, 46, 0), x_dir=(0, 0, 1), z_dir=(0, -1, 0))))

    # Croquis50 → Cortar-Extruir43 (cut, two sides)
    with BuildSketch(Plane(origin=(-18.612848159, 0, -21.715982563), x_dir=(-0.7592713073348843, 0, 0.6507742172658468), z_dir=(-0.6507742172658468, 0, -0.7592713073348843))) as cortar_extruir43_sk:
        with Locations((14.344286106, 20.169352877)):
            Rectangle(CROQUIS50_W, CROQUIS50_H)
    extrude(amount=CORTAR_EXTRUIR43_DEPTH, mode=Mode.SUBTRACT)
    extrude(cortar_extruir43_sk.sketch, amount=-CORTAR_EXTRUIR43_DEPTH_BACK, mode=Mode.SUBTRACT)


solid = body_2_3.part
